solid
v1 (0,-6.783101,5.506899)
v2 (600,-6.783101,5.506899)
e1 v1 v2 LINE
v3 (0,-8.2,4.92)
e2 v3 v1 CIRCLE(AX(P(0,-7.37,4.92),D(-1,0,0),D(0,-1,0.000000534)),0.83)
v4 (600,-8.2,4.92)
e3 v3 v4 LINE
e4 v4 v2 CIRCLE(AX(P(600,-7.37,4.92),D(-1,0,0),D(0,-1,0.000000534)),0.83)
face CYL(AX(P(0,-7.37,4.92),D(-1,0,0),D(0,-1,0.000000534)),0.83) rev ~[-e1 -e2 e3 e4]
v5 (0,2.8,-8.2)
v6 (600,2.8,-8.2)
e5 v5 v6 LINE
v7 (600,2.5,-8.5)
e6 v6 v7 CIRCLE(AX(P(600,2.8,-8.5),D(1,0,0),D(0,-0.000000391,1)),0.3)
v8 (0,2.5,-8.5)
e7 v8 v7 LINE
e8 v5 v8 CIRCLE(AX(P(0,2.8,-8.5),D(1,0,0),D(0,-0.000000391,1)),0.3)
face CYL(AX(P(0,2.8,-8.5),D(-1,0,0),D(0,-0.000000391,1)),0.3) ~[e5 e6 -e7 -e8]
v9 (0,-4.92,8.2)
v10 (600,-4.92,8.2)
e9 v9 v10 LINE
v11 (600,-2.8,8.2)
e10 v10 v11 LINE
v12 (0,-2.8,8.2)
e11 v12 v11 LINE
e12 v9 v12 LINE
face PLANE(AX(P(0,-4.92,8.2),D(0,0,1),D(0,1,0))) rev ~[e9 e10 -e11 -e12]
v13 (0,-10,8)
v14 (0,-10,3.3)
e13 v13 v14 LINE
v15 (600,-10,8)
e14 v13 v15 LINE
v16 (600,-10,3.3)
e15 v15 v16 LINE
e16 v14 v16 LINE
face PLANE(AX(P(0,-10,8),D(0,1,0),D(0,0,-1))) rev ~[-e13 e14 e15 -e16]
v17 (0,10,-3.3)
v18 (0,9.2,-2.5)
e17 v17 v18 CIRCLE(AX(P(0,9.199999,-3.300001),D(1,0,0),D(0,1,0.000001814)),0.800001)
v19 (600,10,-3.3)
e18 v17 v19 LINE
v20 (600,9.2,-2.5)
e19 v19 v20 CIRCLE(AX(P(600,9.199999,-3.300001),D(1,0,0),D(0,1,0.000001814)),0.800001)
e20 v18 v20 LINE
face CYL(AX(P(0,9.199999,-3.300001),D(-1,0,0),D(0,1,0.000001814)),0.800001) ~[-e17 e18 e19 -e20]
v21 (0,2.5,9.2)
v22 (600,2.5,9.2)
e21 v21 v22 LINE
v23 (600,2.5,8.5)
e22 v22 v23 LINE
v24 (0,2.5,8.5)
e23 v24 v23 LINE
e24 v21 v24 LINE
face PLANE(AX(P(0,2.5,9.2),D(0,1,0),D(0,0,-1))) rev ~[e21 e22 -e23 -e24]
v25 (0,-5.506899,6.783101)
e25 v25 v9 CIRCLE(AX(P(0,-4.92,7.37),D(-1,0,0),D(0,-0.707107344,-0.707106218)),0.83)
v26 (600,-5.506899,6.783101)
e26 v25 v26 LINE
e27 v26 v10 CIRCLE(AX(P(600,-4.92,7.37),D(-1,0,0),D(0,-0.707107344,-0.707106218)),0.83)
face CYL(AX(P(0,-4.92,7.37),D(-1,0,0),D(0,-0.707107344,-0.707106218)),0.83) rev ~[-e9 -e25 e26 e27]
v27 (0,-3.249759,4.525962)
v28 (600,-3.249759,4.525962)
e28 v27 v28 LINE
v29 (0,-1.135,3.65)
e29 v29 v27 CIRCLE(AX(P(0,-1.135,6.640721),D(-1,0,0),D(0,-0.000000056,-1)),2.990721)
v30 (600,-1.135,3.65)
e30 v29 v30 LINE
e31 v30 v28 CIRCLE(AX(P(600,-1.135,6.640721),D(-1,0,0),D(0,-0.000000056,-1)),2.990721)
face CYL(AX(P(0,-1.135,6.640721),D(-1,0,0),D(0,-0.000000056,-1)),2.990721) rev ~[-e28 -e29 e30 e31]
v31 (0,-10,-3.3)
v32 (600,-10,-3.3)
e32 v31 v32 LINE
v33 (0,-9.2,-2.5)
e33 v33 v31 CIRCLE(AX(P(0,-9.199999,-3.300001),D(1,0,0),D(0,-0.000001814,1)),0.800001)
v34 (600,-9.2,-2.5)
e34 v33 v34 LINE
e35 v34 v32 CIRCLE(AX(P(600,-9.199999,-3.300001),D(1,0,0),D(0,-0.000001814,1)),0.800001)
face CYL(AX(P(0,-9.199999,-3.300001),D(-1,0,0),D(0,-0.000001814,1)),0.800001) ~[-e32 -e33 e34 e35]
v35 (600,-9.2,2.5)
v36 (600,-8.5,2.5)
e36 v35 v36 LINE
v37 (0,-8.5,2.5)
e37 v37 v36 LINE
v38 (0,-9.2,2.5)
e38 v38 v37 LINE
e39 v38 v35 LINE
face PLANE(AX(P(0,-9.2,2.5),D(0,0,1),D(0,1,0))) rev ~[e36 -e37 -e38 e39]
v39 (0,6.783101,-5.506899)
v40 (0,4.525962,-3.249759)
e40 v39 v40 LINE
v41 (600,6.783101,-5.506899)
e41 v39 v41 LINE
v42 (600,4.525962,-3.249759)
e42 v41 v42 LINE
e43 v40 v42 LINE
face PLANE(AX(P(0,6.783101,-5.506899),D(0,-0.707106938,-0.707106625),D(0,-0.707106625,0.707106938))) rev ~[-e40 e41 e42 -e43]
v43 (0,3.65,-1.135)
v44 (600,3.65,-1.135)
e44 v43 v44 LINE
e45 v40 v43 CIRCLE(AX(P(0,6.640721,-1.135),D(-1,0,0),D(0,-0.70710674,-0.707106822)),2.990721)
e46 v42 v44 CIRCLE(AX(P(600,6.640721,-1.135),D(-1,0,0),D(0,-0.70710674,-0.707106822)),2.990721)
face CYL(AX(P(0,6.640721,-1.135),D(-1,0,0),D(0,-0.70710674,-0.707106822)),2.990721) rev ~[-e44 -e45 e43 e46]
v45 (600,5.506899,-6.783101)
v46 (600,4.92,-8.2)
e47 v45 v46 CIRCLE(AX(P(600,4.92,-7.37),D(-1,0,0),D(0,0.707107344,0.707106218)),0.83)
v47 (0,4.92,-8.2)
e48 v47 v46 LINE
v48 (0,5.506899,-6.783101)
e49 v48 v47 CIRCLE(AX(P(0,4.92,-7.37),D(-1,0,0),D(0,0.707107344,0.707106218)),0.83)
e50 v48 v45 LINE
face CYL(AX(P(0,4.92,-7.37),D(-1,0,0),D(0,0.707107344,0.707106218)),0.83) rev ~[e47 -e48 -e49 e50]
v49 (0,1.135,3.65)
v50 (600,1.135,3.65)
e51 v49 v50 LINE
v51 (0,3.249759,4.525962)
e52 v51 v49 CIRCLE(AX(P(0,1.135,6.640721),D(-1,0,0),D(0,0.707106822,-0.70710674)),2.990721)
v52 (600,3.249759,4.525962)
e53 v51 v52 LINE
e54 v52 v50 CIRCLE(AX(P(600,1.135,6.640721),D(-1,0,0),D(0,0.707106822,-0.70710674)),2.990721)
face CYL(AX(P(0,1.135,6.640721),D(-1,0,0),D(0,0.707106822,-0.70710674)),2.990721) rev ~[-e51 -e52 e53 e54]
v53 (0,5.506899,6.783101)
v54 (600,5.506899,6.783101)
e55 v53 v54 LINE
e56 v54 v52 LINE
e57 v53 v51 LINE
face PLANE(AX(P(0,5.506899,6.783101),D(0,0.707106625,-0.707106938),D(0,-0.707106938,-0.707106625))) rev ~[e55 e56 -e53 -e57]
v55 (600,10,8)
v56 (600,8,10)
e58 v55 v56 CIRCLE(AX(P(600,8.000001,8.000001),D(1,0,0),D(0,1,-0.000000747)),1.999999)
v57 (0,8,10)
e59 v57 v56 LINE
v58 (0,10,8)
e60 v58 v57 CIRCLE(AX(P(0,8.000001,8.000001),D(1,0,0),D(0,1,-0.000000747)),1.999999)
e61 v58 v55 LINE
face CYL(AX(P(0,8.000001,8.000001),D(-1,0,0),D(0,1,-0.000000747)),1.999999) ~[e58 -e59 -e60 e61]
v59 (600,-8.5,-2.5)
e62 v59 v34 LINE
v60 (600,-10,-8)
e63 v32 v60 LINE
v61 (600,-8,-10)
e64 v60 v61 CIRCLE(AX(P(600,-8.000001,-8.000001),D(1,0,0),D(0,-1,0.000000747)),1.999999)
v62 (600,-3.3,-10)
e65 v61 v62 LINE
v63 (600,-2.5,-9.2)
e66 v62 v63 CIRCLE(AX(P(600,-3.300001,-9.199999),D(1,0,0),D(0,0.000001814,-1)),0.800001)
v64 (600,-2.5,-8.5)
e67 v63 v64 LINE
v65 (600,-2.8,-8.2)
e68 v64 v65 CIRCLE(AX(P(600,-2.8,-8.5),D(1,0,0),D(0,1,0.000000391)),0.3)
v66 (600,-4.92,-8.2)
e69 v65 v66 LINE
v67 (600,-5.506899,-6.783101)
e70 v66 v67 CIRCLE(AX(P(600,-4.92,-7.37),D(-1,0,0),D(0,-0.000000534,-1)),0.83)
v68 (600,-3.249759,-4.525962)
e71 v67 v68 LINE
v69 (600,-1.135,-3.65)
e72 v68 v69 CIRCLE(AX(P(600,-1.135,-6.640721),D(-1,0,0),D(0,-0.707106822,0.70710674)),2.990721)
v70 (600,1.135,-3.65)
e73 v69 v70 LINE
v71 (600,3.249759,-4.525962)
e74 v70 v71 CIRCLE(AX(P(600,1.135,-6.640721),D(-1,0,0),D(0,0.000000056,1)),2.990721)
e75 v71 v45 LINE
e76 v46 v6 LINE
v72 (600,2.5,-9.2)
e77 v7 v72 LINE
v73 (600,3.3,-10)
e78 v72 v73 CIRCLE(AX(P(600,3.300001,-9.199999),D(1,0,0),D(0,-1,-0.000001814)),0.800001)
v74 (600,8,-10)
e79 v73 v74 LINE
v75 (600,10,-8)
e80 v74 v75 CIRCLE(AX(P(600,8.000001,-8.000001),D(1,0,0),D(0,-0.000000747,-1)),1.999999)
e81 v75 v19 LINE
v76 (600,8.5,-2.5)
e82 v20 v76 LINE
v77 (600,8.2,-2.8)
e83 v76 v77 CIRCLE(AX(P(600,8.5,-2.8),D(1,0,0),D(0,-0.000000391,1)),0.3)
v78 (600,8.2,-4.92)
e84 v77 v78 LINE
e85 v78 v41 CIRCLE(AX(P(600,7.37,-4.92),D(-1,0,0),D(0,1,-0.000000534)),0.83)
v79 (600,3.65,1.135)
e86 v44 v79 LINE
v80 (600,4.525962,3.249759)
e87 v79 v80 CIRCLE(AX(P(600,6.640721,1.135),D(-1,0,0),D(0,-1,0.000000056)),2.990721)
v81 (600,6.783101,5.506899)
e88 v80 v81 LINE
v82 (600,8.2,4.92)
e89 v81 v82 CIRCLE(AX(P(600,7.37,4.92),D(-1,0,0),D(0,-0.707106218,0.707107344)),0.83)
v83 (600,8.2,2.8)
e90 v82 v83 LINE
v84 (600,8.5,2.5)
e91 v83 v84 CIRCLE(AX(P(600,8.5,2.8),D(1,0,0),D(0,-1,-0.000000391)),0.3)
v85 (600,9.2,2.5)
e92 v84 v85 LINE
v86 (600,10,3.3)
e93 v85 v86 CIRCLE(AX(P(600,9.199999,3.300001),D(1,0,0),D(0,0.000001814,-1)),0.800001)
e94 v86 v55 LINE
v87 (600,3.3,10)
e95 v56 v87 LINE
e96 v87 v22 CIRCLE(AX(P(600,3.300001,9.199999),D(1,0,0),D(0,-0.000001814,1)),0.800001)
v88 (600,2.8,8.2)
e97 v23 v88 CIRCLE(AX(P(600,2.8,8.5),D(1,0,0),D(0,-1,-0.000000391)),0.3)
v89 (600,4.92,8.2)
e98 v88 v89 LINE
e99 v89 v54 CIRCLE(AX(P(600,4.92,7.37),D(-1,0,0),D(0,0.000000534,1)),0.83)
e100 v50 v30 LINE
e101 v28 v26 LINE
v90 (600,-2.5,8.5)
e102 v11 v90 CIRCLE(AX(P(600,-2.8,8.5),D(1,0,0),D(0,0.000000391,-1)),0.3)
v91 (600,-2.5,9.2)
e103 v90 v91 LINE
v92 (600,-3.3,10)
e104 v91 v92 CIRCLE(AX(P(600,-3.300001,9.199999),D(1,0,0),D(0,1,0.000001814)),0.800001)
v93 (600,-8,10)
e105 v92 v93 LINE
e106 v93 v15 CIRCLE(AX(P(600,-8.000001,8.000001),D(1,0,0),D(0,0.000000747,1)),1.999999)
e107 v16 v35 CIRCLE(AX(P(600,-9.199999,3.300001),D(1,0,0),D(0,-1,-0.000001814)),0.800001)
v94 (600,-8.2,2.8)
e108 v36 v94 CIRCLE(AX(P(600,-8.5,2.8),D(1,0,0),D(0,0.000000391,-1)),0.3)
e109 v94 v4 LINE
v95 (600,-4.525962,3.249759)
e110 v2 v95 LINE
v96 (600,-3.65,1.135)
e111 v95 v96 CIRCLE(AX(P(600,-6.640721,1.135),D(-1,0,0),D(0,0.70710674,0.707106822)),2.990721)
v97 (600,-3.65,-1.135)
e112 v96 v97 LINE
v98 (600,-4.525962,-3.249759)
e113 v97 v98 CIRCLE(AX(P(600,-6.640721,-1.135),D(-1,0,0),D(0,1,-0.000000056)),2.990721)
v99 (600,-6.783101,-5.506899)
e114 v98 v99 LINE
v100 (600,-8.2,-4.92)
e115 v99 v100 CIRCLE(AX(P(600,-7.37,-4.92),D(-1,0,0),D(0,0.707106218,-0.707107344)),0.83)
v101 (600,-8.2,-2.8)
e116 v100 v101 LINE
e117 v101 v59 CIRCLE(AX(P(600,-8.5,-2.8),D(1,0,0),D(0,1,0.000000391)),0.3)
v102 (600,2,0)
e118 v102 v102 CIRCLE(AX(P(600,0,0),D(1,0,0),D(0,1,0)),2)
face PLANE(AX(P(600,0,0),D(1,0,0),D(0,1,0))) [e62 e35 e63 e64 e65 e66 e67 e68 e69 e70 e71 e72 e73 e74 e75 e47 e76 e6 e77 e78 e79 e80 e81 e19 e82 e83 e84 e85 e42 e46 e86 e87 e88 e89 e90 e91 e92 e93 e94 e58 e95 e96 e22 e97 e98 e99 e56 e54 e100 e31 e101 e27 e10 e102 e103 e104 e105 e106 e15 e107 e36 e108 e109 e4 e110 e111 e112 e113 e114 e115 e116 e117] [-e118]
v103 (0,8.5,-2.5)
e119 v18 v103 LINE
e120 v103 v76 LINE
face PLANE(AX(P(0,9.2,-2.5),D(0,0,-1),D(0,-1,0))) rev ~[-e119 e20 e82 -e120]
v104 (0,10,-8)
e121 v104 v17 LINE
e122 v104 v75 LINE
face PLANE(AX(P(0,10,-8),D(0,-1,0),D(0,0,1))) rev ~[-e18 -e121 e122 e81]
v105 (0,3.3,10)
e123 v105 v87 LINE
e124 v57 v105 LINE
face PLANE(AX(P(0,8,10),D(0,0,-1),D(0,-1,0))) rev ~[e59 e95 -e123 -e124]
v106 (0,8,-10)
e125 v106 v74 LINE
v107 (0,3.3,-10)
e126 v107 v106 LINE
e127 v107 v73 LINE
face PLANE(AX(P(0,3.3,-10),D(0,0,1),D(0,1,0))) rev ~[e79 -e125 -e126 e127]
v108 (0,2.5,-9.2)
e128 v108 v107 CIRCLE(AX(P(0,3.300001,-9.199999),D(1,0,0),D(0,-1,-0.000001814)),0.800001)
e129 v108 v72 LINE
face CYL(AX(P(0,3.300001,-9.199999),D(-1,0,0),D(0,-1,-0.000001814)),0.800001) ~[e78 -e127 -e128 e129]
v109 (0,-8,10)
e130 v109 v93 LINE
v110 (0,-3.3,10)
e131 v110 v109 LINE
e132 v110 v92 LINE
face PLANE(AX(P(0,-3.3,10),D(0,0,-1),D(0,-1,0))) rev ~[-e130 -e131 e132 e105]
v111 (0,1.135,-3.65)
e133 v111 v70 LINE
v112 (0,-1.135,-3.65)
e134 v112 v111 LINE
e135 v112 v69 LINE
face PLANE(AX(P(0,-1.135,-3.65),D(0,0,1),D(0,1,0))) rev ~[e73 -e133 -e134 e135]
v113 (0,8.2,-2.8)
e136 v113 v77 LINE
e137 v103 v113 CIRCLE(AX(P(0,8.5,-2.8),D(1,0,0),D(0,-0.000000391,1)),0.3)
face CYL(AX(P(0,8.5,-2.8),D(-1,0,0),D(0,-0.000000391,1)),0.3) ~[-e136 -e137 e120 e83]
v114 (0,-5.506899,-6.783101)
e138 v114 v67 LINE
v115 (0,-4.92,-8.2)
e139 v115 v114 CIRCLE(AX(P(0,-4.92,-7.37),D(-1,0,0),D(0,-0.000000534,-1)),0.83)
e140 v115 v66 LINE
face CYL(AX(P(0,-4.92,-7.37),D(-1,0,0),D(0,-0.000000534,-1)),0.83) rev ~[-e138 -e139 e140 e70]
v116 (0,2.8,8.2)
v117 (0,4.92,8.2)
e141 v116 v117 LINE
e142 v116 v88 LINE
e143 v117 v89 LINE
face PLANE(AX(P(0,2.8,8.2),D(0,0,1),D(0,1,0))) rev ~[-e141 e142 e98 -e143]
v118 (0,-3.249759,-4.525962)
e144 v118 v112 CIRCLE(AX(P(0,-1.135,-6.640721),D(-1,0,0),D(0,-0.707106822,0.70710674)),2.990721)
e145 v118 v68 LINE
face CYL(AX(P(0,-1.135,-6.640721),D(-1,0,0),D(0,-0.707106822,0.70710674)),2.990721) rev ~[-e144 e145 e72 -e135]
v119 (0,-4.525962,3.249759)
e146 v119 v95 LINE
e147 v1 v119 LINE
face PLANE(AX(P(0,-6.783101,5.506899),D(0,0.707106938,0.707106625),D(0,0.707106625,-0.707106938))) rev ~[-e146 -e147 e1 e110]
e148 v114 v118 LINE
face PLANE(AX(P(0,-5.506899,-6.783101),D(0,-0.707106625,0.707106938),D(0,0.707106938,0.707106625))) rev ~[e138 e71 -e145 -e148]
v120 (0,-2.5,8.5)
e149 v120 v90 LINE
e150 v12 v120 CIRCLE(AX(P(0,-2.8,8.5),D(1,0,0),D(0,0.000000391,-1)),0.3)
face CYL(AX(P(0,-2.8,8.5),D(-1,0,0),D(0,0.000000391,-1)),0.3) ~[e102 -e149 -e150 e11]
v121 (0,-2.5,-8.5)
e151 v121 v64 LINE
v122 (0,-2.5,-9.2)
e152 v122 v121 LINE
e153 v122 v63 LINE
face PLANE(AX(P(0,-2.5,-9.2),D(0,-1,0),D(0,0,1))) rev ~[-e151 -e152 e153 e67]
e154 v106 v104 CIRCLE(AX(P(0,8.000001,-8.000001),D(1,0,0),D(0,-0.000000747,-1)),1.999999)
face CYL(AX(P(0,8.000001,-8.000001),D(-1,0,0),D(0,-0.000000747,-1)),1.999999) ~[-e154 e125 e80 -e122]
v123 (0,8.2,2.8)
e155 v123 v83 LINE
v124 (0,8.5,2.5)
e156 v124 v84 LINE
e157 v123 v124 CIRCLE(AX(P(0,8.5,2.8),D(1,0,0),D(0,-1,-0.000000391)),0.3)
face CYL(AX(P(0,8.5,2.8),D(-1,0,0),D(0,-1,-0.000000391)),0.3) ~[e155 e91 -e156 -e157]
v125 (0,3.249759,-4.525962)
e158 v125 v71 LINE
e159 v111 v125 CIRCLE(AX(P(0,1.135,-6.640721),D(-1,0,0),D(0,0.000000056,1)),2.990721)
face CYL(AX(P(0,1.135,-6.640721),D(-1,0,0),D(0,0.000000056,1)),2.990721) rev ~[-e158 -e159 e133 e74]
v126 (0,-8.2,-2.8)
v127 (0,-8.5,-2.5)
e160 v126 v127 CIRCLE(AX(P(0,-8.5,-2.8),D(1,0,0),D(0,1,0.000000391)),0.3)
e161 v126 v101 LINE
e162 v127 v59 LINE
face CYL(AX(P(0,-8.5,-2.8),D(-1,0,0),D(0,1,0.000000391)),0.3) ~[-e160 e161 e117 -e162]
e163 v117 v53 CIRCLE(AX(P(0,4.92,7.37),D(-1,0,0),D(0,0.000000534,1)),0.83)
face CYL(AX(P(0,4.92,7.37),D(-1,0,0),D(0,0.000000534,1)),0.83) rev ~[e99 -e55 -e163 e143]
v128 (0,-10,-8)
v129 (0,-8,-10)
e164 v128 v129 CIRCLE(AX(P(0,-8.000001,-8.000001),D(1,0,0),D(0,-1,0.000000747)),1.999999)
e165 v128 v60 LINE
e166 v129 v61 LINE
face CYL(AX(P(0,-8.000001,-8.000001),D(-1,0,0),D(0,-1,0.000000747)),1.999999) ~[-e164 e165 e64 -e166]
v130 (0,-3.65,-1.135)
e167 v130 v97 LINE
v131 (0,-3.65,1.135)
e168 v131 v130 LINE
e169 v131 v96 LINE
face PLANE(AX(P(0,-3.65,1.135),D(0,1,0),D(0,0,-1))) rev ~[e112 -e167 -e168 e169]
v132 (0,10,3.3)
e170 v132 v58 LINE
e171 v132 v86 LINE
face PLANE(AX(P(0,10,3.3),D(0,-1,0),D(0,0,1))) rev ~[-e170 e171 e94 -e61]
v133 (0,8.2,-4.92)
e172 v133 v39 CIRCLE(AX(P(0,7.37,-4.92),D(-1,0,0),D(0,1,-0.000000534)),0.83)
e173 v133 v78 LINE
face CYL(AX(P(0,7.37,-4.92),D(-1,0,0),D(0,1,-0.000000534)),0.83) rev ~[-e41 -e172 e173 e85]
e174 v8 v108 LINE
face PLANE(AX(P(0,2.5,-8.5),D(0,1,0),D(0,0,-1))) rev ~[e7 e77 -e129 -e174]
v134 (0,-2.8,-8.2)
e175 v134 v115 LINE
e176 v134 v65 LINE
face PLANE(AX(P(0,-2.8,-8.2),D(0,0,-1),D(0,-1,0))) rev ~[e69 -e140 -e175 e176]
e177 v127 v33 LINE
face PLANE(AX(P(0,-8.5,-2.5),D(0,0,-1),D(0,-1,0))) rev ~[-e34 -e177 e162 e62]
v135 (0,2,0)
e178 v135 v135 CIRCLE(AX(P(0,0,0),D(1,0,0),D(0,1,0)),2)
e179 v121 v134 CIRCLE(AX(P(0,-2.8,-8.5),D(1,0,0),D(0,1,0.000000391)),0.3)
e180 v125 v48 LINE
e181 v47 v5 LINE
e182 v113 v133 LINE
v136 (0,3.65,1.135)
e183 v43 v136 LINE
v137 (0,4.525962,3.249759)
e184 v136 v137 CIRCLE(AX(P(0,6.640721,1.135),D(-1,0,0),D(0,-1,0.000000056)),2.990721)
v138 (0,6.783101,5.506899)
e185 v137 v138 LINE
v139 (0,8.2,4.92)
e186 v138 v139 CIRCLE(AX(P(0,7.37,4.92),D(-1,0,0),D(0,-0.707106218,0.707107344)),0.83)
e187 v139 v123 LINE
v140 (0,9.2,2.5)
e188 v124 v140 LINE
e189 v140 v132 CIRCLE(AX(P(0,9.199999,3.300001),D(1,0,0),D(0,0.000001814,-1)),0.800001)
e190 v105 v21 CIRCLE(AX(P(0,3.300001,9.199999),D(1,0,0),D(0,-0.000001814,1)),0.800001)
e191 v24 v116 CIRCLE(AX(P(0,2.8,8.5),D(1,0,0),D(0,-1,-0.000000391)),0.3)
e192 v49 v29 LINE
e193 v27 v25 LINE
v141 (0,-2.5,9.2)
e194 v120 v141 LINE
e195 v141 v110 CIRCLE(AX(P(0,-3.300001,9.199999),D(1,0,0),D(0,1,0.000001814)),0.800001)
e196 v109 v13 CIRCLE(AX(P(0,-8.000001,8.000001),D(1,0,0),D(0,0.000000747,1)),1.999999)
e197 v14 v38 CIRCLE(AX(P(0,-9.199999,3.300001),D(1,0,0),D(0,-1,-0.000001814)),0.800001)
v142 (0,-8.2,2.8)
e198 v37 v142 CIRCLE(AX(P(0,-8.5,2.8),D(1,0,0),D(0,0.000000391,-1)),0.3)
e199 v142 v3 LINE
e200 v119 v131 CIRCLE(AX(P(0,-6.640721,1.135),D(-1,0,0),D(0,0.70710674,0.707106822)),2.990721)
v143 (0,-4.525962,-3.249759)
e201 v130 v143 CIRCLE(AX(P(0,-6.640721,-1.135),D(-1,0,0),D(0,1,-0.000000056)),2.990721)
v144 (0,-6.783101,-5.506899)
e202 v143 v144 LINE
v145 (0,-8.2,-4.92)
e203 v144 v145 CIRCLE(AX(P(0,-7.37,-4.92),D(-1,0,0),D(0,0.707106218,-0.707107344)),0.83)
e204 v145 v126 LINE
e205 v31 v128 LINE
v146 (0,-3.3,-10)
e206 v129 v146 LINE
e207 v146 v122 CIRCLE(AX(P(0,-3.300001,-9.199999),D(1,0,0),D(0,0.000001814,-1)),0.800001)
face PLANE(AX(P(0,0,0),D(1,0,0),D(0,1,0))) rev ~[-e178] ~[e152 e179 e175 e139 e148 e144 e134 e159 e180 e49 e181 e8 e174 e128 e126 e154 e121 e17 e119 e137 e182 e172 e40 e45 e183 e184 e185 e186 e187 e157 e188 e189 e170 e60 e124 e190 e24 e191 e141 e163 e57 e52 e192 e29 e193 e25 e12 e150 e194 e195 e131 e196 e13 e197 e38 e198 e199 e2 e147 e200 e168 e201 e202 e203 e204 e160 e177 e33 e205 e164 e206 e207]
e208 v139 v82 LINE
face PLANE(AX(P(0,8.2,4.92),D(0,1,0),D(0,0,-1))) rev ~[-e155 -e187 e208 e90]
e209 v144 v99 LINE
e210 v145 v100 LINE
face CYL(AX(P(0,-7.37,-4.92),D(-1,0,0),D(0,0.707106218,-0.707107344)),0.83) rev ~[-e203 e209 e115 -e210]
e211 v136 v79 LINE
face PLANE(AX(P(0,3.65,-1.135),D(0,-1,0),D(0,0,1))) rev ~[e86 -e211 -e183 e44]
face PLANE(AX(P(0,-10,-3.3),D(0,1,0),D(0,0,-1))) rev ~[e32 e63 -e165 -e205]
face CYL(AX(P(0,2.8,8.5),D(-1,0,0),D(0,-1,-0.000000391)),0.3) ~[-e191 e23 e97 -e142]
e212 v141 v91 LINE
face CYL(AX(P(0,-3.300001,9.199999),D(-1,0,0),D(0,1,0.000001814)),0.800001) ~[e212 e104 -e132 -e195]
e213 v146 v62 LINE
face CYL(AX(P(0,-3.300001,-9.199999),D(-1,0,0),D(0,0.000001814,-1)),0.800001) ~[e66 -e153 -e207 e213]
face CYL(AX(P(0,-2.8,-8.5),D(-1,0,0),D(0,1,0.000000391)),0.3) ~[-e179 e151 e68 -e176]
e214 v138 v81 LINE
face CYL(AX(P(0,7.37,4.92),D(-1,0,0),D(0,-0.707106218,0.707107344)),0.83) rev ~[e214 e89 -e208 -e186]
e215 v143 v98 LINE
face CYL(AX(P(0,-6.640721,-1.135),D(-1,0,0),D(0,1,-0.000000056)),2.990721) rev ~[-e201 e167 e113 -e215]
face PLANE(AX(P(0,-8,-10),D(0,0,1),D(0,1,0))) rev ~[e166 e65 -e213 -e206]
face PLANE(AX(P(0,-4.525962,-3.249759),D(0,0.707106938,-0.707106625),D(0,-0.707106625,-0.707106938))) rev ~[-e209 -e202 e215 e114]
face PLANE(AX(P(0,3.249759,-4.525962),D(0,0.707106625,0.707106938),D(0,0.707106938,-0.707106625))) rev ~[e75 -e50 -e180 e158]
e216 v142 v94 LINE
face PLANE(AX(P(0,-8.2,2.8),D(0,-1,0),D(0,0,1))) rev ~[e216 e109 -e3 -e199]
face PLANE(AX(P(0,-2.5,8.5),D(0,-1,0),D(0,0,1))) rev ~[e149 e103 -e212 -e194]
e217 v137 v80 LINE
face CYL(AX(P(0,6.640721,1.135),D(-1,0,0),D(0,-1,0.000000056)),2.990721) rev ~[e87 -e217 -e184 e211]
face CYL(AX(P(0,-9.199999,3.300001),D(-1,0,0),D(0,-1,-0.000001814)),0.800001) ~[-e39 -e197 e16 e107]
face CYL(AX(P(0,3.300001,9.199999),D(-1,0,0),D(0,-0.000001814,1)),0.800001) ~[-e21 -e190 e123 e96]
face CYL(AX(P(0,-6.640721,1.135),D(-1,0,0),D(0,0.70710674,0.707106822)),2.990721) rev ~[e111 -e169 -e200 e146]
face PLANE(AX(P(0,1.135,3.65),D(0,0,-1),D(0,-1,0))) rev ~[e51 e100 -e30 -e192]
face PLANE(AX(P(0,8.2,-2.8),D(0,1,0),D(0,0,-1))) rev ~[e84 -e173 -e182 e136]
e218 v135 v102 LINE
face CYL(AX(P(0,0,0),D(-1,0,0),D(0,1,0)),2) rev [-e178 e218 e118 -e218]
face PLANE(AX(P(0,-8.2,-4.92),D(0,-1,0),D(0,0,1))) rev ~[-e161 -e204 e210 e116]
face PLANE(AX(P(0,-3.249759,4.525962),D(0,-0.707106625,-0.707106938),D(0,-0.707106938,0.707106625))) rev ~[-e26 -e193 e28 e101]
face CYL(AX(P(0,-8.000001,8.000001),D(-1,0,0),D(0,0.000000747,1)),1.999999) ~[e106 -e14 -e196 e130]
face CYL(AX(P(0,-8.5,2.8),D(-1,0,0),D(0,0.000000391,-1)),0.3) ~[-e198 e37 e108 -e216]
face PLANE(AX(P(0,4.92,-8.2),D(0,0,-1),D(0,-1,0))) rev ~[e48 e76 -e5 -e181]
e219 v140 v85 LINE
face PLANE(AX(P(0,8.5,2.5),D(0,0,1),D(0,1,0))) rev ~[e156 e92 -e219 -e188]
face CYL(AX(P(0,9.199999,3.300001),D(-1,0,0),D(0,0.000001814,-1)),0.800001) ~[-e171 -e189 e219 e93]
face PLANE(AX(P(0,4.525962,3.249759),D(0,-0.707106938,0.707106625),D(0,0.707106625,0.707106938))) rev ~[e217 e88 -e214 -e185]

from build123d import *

# Parameters (mm, degrees)
F0_R     = 2
F1_DEPTH = 600


with BuildPart() as f1:
    # F0 (on Right) → F1 (new body)
    with BuildSketch(Plane.YZ):
        with BuildLine():
            Line((-3.3, 10), (-8, 10))
            ThreePointArc((-8, 10), (-9.414214, 9.414214), (-10, 8))
            Line((-10, 8), (-10, 3.3))
            ThreePointArc((-10, 3.3), (-9.765685, 2.734315), (-9.2, 2.5))
            Line((-9.2, 2.5), (-8.5, 2.5))
            ThreePointArc((-8.5, 2.5), (-8.287868, 2.587868), (-8.2, 2.8))
            Line((-8.2, 2.8), (-8.2, 4.92))
            ThreePointArc((-8.2, 4.92), (-7.687627, 5.68682), (-6.783101, 5.506899))
            Line((-6.783101, 5.506899), (-4.525962, 3.249759))
            ThreePointArc((-4.525962, 3.249759), (-3.877655, 2.279499), (-3.65, 1.135))
            Line((-3.65, 1.135), (-3.65, -1.135))
            ThreePointArc((-3.65, -1.135), (-3.877655, -2.279499), (-4.525962, -3.249759))
            Line((-4.525962, -3.249759), (-6.783101, -5.506899))
            ThreePointArc((-6.783101, -5.506899), (-7.687627, -5.68682), (-8.2, -4.92))
            Line((-8.2, -4.92), (-8.2, -2.8))
            ThreePointArc((-8.2, -2.8), (-8.287868, -2.587868), (-8.5, -2.5))
            Line((-8.5, -2.5), (-9.2, -2.5))
            ThreePointArc((-9.2, -2.5), (-9.765685, -2.734315), (-10, -3.3))
            Line((-10, -3.3), (-10, -8))
            ThreePointArc((-10, -8), (-9.414214, -9.414214), (-8, -10))
            Line((-8, -10), (-3.3, -10))
            ThreePointArc((-3.3, -10), (-2.734315, -9.765685), (-2.5, -9.2))
            Line((-2.5, -9.2), (-2.5, -8.5))
            ThreePointArc((-2.5, -8.5), (-2.587868, -8.287868), (-2.8, -8.2))
            Line((-2.8, -8.2), (-4.92, -8.2))
            ThreePointArc((-4.92, -8.2), (-5.68682, -7.687627), (-5.506899, -6.783101))
            Line((-5.506899, -6.783101), (-3.249759, -4.525962))
            ThreePointArc((-3.249759, -4.525962), (-2.279499, -3.877655), (-1.135, -3.65))
            Line((-1.135, -3.65), (1.135, -3.65))
            ThreePointArc((1.135, -3.65), (2.279499, -3.877655), (3.249759, -4.525962))
            Line((3.249759, -4.525962), (5.506899, -6.783101))
            ThreePointArc((5.506899, -6.783101), (5.68682, -7.687627), (4.92, -8.2))
            Line((4.92, -8.2), (2.8, -8.2))
            ThreePointArc((2.8, -8.2), (2.587868, -8.287868), (2.5, -8.5))
            Line((2.5, -8.5), (2.5, -9.2))
            ThreePointArc((2.5, -9.2), (2.734315, -9.765685), (3.3, -10))
            Line((3.3, -10), (8, -10))
            ThreePointArc((8, -10), (9.414214, -9.414214), (10, -8))
            Line((10, -8), (10, -3.3))
            ThreePointArc((10, -3.3), (9.765685, -2.734315), (9.2, -2.5))
            Line((9.2, -2.5), (8.5, -2.5))
            ThreePointArc((8.5, -2.5), (8.287868, -2.587868), (8.2, -2.8))
            Line((8.2, -2.8), (8.2, -4.92))
            ThreePointArc((8.2, -4.92), (7.687627, -5.68682), (6.783101, -5.506899))
            Line((6.783101, -5.506899), (4.525962, -3.249759))
            ThreePointArc((4.525962, -3.249759), (3.877655, -2.279499), (3.65, -1.135))
            Line((3.65, -1.135), (3.65, 1.135))
            ThreePointArc((3.65, 1.135), (3.877655, 2.279499), (4.525962, 3.249759))
            Line((4.525962, 3.249759), (6.783101, 5.506899))
            ThreePointArc((6.783101, 5.506899), (7.687627, 5.68682), (8.2, 4.92))
            Line((8.2, 4.92), (8.2, 2.8))
            ThreePointArc((8.2, 2.8), (8.287868, 2.587868), (8.5, 2.5))
            Line((8.5, 2.5), (9.2, 2.5))
            ThreePointArc((9.2, 2.5), (9.765685, 2.734315), (10, 3.3))
            Line((10, 3.3), (10, 8))
            ThreePointArc((10, 8), (9.414214, 9.414214), (8, 10))
            Line((8, 10), (3.3, 10))
            ThreePointArc((3.3, 10), (2.734315, 9.765685), (2.5, 9.2))
            Line((2.5, 9.2), (2.5, 8.5))
            ThreePointArc((2.5, 8.5), (2.587868, 8.287868), (2.8, 8.2))
            Line((2.8, 8.2), (4.92, 8.2))
            ThreePointArc((4.92, 8.2), (5.68682, 7.687627), (5.506899, 6.783101))
            Line((5.506899, 6.783101), (3.249759, 4.525962))
            ThreePointArc((3.249759, 4.525962), (2.279499, 3.877655), (1.135, 3.65))
            Line((1.135, 3.65), (-1.135, 3.65))
            ThreePointArc((-1.135, 3.65), (-2.279499, 3.877655), (-3.249759, 4.525962))
            Line((-3.249759, 4.525962), (-5.506899, 6.783101))
            ThreePointArc((-5.506899, 6.783101), (-5.68682, 7.687627), (-4.92, 8.2))
            Line((-4.92, 8.2), (-2.8, 8.2))
            ThreePointArc((-2.8, 8.2), (-2.587868, 8.287868), (-2.5, 8.5))
            Line((-2.5, 8.5), (-2.5, 9.2))
            ThreePointArc((-2.5, 9.2), (-2.734315, 9.765685), (-3.3, 10))
        make_face()
        Circle(F0_R, mode=Mode.SUBTRACT)
    extrude(amount=F1_DEPTH)


solid = f1.part
